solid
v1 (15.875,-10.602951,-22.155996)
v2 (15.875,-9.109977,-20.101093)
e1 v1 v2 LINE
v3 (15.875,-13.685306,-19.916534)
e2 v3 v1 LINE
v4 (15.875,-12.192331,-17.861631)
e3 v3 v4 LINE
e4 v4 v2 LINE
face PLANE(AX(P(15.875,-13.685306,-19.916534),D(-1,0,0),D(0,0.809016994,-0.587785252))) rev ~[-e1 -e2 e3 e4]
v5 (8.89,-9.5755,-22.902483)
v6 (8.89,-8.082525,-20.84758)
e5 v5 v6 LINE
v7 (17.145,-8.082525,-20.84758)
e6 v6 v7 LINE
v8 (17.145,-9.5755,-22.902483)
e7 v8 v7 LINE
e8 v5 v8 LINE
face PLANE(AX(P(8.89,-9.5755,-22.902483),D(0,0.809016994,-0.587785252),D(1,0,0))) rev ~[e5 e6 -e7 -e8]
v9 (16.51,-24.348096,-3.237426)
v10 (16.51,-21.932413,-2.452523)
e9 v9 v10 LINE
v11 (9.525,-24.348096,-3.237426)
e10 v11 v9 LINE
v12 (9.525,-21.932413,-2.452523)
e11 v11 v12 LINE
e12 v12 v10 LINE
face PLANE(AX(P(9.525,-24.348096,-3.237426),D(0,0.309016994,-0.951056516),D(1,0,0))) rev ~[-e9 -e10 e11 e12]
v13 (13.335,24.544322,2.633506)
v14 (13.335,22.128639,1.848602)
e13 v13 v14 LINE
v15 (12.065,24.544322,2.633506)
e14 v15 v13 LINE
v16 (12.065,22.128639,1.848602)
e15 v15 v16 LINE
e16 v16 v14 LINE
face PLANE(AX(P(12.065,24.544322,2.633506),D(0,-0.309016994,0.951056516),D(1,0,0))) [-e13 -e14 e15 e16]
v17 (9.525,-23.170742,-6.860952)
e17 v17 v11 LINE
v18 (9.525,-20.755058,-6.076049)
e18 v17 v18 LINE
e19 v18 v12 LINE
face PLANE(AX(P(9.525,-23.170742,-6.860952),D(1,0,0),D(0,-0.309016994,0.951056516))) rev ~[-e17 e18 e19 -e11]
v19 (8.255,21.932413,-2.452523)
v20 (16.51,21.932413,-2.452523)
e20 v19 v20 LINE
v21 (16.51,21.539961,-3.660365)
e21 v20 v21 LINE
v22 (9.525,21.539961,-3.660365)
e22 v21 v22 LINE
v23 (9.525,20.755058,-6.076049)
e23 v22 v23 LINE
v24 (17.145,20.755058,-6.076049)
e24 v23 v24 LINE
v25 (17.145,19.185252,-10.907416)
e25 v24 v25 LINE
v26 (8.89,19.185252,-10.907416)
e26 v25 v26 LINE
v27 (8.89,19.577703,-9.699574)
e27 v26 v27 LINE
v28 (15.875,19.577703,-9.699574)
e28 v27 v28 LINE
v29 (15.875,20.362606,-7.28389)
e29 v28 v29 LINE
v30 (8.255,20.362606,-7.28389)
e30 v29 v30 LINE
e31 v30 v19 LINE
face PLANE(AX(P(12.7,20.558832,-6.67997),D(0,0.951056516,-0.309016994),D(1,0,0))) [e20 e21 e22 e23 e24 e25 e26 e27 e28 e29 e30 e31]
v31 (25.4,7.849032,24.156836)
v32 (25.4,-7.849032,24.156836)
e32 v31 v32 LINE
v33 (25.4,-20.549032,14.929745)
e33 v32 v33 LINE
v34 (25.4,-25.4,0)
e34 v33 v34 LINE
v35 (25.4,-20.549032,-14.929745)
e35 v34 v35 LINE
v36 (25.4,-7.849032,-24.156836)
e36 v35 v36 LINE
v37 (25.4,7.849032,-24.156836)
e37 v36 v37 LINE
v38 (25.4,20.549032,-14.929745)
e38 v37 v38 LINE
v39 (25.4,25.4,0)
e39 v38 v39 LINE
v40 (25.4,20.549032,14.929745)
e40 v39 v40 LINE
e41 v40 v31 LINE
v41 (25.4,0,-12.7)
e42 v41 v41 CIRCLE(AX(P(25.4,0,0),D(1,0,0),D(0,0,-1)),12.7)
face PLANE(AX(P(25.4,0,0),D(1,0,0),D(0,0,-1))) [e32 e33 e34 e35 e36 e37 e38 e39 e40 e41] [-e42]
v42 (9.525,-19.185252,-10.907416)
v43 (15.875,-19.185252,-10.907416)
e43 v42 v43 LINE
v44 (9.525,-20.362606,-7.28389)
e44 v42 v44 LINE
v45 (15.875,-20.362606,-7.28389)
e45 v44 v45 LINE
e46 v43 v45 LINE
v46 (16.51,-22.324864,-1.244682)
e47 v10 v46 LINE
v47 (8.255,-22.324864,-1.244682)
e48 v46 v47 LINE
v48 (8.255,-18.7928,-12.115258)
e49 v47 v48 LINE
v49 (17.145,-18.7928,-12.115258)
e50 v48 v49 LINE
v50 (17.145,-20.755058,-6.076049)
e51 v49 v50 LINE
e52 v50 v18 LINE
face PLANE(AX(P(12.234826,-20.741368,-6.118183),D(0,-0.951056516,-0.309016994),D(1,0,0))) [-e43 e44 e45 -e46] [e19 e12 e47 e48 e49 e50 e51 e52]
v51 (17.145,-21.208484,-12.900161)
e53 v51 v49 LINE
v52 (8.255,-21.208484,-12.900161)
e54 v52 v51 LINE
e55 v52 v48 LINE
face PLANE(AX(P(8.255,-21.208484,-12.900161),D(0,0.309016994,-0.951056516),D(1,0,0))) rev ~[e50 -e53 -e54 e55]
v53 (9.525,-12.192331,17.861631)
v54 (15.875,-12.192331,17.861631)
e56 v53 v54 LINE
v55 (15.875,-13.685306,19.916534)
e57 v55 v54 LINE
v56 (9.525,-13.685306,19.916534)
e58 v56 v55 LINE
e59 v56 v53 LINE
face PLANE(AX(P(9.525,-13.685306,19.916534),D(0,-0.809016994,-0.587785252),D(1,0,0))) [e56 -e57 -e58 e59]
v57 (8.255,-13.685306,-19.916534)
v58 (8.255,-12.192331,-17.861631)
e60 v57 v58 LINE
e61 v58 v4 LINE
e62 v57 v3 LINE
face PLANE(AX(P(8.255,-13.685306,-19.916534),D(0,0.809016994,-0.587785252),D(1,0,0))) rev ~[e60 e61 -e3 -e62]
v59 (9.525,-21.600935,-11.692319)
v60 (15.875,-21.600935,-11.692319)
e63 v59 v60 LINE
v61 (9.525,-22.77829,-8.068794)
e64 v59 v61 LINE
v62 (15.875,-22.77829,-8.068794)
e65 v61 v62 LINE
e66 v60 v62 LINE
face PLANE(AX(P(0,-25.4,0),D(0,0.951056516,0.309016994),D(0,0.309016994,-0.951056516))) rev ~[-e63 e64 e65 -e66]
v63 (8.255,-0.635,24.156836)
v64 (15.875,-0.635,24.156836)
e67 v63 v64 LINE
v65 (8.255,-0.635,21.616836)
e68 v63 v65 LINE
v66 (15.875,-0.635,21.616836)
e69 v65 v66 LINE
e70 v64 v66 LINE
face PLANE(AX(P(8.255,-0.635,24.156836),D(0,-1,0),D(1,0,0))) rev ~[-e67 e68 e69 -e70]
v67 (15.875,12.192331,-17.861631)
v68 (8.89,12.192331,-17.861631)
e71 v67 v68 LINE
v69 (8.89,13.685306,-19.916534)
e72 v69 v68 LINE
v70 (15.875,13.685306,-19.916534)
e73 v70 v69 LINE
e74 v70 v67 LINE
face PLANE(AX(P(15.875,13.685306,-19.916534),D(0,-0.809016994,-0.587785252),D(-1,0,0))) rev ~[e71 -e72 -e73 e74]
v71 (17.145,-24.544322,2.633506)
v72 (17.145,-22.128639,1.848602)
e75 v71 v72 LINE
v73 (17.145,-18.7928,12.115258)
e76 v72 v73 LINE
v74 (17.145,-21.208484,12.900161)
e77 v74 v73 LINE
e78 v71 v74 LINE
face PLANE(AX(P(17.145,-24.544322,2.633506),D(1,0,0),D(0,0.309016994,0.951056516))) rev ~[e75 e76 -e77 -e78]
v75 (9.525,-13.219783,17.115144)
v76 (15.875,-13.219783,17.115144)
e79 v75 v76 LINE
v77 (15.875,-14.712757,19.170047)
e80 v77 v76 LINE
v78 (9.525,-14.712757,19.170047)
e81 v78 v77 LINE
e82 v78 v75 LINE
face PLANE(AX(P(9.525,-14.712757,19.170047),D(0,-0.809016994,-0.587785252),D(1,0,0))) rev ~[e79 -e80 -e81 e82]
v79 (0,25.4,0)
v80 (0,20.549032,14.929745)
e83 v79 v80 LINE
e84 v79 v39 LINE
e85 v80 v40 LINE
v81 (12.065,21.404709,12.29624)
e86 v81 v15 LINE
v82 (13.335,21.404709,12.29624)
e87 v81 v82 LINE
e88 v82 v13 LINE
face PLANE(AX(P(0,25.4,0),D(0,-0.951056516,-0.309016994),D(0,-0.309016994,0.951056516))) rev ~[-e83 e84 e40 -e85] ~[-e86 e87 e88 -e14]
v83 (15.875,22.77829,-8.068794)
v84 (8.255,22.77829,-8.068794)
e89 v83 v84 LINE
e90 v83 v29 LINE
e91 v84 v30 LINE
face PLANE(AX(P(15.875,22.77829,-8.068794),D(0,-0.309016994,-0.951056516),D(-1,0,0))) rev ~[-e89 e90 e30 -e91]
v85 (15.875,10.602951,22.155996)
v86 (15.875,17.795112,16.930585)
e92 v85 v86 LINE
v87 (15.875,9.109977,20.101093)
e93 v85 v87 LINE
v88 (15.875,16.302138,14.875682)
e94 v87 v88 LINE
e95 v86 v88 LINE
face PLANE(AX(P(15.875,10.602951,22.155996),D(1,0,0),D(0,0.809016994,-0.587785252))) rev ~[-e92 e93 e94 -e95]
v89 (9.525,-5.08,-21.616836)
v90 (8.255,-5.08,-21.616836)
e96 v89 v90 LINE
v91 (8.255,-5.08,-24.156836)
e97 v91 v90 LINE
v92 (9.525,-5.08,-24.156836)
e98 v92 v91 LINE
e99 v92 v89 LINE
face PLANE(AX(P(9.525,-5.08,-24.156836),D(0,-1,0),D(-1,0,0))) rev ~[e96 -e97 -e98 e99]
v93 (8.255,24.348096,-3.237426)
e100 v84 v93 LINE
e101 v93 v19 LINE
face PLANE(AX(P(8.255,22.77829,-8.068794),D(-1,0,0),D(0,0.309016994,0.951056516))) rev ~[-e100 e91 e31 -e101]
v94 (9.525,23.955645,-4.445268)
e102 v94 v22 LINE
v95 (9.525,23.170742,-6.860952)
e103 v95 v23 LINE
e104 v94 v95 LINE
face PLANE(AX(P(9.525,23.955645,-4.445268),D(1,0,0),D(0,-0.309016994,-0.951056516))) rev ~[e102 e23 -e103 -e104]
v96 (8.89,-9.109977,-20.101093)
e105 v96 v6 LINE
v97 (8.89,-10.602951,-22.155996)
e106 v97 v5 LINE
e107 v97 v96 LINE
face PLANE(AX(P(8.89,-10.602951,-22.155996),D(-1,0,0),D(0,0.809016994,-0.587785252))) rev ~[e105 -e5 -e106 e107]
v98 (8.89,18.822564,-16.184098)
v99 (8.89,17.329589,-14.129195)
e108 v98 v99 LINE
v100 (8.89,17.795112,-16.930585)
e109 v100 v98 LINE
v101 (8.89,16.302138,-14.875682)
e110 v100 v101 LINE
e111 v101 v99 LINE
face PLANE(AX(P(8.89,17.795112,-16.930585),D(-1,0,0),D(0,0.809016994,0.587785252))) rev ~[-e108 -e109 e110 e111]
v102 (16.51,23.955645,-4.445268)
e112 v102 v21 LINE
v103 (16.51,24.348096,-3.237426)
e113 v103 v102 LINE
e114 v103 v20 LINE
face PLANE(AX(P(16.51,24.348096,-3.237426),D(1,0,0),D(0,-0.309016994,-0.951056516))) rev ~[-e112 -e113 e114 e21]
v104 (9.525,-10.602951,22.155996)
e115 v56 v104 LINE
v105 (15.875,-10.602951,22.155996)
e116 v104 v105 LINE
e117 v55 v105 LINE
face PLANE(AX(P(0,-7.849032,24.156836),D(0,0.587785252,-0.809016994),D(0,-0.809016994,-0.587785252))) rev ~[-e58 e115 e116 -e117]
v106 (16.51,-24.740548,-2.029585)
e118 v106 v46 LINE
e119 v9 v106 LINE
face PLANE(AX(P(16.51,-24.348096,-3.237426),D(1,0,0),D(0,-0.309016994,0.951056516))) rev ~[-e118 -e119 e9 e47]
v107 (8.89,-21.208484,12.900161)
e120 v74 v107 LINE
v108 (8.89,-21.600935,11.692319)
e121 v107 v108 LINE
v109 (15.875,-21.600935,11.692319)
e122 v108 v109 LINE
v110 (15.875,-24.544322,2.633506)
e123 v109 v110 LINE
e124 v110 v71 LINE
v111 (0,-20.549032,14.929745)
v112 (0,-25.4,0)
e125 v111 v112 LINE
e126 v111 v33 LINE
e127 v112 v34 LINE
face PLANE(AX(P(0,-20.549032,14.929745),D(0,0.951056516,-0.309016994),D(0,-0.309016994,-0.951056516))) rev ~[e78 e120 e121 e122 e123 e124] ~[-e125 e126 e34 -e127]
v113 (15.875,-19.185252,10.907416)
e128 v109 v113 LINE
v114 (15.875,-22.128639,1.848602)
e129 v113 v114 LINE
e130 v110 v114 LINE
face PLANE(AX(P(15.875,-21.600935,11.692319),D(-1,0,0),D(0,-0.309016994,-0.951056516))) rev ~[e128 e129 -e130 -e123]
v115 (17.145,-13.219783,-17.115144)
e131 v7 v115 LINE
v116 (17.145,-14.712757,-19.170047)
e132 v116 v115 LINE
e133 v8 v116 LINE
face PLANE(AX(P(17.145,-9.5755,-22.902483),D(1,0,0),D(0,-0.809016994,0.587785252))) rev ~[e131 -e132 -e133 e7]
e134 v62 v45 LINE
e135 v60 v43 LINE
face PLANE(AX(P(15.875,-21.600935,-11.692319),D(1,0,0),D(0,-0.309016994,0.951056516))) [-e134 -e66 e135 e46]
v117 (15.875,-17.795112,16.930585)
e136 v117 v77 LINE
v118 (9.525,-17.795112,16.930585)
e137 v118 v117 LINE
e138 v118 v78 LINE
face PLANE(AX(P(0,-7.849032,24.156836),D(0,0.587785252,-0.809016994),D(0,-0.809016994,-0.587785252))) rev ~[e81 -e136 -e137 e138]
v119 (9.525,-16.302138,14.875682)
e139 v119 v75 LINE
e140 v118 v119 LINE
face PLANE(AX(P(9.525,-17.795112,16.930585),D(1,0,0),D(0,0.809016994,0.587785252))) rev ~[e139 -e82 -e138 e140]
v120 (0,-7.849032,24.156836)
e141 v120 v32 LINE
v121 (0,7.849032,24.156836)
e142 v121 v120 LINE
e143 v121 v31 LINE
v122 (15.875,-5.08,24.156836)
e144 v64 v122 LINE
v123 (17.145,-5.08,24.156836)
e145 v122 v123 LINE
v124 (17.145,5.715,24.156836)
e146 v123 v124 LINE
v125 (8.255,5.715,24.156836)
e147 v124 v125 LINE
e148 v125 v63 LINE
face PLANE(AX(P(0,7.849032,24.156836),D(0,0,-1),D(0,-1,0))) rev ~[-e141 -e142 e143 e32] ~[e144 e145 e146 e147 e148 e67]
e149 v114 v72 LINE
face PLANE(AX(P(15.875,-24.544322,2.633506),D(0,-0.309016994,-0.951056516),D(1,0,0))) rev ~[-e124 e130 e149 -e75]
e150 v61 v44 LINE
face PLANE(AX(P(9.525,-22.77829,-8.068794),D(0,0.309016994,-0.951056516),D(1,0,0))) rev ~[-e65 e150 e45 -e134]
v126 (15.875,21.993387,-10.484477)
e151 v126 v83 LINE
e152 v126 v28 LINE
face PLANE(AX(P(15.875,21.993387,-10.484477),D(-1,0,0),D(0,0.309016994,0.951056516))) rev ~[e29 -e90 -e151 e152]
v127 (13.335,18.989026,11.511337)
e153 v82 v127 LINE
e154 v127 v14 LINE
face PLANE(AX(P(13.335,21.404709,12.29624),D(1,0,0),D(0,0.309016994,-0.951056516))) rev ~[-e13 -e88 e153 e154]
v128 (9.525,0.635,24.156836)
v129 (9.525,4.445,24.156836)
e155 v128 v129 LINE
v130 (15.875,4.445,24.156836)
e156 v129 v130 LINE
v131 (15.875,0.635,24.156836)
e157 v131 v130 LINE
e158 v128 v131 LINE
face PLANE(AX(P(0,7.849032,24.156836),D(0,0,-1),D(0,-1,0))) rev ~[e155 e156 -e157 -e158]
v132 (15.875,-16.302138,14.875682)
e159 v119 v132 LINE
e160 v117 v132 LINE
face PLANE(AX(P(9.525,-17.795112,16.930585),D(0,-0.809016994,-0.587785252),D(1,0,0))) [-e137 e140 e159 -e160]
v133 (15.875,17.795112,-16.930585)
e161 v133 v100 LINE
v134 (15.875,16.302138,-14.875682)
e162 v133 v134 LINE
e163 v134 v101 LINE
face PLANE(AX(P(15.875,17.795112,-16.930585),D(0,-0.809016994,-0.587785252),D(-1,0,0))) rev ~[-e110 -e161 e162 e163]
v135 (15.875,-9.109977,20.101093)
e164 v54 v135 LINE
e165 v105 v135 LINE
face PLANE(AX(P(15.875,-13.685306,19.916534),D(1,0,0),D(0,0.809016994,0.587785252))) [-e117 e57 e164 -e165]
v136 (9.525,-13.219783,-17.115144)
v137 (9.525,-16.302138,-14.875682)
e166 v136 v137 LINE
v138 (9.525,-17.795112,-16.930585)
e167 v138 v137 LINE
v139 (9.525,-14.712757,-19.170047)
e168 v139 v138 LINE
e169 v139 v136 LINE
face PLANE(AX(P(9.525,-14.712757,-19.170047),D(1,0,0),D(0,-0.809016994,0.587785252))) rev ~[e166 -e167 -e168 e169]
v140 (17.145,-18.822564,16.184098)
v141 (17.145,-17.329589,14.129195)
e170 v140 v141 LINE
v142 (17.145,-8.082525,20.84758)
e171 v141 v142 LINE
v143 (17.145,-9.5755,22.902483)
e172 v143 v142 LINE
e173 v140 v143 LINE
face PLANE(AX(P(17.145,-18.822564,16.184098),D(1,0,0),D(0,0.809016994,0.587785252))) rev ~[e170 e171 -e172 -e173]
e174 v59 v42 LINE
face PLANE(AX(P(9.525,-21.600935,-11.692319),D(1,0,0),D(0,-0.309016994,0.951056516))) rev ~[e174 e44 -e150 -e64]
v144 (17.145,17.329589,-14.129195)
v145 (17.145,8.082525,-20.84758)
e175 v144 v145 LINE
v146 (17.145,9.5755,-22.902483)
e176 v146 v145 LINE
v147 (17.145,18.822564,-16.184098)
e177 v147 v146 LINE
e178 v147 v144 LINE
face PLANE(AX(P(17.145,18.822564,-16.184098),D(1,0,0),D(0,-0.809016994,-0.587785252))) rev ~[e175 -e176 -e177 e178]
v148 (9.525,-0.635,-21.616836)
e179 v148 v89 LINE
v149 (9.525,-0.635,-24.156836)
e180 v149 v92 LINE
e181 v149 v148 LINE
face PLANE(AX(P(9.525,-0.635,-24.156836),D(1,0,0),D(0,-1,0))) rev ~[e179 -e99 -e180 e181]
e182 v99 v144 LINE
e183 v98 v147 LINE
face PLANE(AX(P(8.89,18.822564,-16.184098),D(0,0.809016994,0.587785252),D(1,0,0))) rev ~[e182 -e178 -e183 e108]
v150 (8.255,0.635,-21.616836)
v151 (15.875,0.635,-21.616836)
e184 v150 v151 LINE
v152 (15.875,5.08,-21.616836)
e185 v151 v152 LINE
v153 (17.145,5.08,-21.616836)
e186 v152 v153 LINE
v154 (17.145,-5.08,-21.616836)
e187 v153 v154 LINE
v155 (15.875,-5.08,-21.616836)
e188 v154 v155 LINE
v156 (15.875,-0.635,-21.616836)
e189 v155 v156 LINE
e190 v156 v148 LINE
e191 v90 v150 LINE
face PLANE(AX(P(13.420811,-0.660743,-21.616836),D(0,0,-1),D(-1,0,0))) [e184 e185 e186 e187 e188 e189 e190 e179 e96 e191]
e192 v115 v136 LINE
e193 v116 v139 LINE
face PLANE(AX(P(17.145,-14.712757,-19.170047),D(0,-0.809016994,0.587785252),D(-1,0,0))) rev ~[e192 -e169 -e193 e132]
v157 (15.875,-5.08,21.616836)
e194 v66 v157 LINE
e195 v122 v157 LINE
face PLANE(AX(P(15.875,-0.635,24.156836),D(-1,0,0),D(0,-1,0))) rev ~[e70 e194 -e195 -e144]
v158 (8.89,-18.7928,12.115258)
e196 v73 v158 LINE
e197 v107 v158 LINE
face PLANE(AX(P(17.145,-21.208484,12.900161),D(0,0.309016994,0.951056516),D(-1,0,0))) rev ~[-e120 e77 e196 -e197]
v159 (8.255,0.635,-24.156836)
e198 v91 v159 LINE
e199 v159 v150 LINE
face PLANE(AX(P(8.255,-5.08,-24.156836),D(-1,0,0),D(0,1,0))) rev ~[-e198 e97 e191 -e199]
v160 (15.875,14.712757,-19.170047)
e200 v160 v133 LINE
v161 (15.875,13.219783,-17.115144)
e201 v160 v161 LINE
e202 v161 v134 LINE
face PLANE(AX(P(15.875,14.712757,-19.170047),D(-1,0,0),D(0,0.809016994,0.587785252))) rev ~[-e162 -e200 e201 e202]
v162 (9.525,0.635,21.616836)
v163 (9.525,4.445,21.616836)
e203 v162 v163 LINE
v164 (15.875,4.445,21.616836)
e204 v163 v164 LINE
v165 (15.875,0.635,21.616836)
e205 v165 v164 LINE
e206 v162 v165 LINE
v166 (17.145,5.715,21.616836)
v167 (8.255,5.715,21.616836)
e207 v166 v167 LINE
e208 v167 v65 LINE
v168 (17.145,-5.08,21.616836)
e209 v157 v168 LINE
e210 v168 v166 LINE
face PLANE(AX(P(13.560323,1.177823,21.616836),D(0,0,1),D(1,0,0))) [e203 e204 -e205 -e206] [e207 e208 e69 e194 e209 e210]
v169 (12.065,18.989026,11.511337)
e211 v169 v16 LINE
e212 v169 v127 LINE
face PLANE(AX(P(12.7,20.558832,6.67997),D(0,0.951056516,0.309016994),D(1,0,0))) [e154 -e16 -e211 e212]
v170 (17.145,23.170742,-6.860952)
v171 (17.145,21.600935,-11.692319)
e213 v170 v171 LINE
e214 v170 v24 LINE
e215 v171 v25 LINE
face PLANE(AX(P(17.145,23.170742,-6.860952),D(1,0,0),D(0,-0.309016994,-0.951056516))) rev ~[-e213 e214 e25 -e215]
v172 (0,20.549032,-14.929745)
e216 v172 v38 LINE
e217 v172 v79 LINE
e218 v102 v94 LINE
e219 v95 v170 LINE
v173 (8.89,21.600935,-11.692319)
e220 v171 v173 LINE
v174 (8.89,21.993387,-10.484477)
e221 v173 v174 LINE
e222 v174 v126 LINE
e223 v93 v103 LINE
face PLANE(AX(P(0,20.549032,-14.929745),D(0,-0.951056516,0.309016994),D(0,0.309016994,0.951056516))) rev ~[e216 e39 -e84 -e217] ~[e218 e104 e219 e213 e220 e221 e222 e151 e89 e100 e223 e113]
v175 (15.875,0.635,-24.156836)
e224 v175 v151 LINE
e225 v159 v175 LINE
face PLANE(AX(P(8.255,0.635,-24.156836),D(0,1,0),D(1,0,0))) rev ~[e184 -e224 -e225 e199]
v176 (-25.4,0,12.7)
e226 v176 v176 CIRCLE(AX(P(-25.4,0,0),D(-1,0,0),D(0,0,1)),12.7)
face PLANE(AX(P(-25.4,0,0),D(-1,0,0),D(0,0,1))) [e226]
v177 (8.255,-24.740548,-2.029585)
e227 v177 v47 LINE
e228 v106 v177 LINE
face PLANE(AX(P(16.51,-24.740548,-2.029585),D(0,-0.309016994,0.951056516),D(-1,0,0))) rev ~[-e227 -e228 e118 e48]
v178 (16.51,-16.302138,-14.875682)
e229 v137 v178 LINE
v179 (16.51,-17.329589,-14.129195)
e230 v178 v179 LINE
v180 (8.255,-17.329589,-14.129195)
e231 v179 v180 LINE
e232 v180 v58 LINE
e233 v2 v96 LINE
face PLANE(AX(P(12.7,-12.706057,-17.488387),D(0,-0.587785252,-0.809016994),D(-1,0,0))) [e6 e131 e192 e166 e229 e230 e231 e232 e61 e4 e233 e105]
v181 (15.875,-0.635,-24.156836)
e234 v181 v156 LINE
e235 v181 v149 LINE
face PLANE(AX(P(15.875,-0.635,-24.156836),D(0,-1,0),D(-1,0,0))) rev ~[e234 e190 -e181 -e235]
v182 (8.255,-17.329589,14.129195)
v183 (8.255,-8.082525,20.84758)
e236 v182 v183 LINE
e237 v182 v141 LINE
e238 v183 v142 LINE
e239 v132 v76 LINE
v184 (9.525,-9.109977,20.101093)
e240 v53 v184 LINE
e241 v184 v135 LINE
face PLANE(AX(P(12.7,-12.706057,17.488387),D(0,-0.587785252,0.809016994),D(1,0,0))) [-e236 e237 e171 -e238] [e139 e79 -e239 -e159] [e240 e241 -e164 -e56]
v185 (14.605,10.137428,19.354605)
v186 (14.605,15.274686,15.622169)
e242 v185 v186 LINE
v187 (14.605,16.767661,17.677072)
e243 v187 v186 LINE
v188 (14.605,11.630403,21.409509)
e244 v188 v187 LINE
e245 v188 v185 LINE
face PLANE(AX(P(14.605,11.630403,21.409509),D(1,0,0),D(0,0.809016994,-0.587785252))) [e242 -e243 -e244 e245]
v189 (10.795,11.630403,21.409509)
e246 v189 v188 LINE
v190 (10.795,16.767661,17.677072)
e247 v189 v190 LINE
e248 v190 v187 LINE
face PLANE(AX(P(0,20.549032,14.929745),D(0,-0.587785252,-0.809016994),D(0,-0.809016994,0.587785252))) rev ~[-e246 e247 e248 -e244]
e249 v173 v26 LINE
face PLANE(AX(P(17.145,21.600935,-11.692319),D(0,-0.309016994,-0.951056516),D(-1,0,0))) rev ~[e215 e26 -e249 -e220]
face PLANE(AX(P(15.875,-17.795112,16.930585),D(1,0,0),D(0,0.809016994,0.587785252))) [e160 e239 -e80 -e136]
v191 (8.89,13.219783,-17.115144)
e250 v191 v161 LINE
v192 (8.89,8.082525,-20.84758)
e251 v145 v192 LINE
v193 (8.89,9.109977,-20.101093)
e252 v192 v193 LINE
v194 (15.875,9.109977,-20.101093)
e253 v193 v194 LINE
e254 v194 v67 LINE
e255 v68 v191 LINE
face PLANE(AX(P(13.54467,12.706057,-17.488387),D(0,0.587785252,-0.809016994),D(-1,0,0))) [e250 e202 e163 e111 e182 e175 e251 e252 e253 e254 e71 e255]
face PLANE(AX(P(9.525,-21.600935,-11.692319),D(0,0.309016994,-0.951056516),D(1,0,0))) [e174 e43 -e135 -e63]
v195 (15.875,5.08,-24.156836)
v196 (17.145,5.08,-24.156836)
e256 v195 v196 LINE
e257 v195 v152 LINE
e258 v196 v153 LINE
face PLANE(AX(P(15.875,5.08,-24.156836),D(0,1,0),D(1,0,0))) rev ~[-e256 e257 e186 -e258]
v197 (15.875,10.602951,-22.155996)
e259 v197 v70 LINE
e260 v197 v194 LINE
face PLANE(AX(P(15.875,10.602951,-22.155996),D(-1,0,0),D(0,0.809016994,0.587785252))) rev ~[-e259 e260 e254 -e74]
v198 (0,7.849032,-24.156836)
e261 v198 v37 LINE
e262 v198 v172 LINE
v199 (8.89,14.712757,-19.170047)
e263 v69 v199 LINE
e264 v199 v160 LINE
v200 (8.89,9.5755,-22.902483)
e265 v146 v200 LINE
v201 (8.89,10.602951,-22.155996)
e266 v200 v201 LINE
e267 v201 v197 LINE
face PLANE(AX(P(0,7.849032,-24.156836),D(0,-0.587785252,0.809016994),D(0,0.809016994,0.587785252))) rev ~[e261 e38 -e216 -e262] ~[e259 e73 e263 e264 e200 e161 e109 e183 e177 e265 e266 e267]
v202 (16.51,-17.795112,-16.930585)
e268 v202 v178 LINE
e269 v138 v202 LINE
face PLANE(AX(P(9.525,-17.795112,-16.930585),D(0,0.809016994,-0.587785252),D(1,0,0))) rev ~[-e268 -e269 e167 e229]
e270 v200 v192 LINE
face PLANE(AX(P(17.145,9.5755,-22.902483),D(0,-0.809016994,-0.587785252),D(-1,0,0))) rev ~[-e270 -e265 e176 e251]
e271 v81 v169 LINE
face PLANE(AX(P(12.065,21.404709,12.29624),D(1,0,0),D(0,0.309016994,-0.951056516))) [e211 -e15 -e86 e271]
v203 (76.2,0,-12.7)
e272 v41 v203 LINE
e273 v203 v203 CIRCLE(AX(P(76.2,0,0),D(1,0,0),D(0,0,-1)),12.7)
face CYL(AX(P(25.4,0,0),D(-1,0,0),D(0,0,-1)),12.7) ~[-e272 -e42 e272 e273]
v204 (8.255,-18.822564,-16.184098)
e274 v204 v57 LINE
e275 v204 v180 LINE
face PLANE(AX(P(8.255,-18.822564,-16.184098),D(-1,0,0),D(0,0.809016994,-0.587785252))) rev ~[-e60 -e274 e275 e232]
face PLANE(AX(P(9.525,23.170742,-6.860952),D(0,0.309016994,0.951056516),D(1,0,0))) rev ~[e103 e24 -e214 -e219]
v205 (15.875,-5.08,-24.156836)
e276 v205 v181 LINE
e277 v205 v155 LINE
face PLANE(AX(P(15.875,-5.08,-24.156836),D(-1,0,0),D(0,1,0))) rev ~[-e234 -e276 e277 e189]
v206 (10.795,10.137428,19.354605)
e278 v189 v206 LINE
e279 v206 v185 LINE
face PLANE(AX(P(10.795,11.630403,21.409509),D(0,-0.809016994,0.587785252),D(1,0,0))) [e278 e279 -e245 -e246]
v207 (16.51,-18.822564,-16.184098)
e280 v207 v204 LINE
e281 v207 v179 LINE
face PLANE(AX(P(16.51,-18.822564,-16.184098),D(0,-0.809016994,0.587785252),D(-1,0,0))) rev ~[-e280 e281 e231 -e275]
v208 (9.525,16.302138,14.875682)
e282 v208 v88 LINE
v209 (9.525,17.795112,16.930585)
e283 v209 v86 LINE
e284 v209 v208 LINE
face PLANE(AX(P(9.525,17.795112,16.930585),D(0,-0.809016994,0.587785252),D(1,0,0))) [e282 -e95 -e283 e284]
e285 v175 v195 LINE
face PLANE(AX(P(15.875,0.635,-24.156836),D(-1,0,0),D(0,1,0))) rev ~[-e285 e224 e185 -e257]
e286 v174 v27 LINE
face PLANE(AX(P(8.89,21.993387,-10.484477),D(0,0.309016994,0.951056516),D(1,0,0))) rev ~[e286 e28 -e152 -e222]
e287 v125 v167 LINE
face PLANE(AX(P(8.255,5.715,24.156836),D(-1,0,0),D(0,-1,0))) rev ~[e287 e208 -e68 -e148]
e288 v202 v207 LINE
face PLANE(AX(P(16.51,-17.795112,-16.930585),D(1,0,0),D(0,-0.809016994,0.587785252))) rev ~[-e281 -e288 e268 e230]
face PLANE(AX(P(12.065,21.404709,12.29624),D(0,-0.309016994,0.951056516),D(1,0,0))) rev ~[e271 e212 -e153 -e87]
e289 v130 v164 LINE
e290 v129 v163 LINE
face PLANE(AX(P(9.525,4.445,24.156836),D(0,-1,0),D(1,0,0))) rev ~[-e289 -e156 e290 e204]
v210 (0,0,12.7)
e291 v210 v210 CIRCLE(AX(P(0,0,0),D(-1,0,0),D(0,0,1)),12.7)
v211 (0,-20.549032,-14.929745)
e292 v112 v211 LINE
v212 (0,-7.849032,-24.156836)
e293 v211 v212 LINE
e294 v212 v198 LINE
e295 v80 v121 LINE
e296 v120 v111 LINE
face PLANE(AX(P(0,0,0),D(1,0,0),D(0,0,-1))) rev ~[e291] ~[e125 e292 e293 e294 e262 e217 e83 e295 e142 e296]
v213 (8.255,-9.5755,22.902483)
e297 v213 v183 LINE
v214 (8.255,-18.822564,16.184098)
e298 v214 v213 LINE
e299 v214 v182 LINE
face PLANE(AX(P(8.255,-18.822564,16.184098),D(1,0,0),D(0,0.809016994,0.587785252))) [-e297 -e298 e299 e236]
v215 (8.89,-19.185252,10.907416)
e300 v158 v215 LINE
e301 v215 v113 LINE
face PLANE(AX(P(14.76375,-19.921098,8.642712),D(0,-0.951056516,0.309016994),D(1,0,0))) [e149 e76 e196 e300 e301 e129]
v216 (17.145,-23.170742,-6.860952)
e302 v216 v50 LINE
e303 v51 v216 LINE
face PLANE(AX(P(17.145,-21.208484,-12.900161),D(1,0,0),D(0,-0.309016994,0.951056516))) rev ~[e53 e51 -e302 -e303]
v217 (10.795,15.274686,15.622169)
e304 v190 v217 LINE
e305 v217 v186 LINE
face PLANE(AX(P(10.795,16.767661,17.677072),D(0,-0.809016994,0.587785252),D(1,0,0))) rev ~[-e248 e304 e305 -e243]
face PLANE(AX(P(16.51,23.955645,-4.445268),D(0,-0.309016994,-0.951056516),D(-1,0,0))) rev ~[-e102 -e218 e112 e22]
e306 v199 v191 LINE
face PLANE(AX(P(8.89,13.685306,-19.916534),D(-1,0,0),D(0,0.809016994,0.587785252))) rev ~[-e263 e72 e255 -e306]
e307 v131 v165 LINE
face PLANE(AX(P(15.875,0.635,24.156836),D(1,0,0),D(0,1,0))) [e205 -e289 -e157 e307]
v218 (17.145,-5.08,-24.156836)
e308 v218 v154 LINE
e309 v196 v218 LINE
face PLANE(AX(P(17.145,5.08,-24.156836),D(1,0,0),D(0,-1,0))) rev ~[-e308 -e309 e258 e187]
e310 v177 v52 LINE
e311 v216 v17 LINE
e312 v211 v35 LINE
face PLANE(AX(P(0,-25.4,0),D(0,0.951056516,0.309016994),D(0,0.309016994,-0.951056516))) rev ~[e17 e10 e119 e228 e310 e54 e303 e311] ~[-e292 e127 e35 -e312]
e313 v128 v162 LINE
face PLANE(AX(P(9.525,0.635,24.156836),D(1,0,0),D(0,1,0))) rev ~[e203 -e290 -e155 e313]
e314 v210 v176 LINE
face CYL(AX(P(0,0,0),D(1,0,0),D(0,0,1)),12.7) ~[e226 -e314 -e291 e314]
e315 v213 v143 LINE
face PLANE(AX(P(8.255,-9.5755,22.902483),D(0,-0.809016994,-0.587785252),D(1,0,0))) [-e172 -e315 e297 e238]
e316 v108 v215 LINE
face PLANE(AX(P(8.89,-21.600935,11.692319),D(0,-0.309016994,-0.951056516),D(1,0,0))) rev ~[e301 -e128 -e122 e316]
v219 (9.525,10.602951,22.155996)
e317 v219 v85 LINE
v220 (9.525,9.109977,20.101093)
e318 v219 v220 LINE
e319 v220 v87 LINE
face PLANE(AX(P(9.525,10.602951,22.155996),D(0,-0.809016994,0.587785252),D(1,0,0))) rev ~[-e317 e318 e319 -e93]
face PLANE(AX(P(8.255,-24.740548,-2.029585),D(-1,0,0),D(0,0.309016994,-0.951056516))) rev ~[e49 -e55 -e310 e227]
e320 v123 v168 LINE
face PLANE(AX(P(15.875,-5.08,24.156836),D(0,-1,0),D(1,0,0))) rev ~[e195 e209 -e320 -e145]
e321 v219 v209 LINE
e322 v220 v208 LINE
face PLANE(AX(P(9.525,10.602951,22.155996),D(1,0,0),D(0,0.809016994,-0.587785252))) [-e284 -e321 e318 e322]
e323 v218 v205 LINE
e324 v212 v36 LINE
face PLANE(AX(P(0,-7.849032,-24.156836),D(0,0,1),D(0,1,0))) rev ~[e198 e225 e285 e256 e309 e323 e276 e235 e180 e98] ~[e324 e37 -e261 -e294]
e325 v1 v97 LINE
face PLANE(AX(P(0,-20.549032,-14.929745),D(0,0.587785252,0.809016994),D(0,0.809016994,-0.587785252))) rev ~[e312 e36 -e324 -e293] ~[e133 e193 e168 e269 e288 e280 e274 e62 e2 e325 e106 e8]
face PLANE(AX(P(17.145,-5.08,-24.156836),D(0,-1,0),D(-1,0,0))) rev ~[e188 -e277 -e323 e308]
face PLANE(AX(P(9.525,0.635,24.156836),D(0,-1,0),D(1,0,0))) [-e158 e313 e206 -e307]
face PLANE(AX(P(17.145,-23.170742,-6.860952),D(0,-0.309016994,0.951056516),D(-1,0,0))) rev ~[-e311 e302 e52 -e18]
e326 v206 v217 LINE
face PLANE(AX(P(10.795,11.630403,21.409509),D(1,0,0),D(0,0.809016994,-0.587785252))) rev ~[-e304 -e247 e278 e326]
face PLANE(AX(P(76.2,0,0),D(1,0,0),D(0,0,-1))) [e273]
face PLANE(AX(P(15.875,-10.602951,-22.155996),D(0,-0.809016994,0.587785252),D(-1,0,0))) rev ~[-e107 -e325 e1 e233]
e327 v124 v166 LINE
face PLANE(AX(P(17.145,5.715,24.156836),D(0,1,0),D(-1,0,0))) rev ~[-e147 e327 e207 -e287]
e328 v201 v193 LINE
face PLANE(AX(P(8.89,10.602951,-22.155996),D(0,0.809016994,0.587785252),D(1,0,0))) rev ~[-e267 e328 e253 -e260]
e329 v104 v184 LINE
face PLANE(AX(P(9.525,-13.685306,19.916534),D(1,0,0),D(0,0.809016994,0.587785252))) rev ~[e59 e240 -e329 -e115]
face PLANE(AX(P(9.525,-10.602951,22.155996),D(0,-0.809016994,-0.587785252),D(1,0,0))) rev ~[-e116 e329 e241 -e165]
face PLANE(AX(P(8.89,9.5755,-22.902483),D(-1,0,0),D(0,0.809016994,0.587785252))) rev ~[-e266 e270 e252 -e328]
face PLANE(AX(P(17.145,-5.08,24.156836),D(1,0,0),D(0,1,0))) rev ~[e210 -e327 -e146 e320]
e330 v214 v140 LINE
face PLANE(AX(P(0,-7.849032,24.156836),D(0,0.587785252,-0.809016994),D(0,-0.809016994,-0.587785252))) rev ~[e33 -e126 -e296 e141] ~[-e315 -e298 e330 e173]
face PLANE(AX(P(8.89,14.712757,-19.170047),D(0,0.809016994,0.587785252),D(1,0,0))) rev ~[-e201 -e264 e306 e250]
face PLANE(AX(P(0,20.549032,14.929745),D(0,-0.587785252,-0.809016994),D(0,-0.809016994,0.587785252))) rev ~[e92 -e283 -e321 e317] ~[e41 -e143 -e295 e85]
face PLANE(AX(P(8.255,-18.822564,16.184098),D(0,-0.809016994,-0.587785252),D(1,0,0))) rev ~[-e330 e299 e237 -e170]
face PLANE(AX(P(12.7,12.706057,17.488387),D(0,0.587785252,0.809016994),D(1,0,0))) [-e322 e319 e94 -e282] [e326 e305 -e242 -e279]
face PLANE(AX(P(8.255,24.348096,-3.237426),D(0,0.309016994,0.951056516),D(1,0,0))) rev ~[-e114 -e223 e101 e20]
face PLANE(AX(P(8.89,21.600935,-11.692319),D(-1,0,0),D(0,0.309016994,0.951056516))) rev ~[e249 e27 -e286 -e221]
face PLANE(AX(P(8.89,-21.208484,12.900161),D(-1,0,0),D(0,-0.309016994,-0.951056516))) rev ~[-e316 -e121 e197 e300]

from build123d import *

# Parameters (mm, degrees)
BOSS_EXTRUDE1_DEPTH      = 25.4
SKETCH2_R                = 12.7
BOSS_EXTRUDE2_DEPTH      = 50.8
SKETCH3_R                = 12.7
BOSS_EXTRUDE3_DEPTH      = 25.4
SKETCH4_W                = 6.35
SKETCH4_H                = 8.89
SKETCH4_W_2              = 3.81
SKETCH4_H_2              = 6.35
CUT_EXTRUDE1_DEPTH       = 2.54
SKETCH5_W                = 1.27
SKETCH5_H                = 10.16
CUT_EXTRUDE2_DEPTH       = 2.54
CUT_EXTRUDE3_DEPTH       = 2.54
CUT_EXTRUDE4_DEPTH       = 2.54
CUT_EXTRUDE5_DEPTH       = 2.54
CUT_EXTRUDE6_DEPTH       = 2.54
SKETCH11_W               = 6.35
SKETCH11_H               = 3.81
CUT_EXTRUDE7_DEPTH       = 8.464872704
CUT_EXTRUDE7_DEPTH_BACK  = 2.54
CUT_EXTRUDE8_DEPTH       = 2.54
SKETCH13_W               = 8.89
SKETCH13_H               = 11.43
SKETCH13_W_2             = 6.35
SKETCH13_H_2             = 3.81
CUT_EXTRUDE9_DEPTH       = 2.54
SKETCH14_W               = 6.35
SKETCH14_H               = 3.81
CUT_EXTRUDE10_DEPTH      = 1
CUT_EXTRUDE10_DEPTH_BACK = 2.54


with BuildPart() as part:
    # Sketch1 → Boss-Extrude1 (new body)
    with BuildSketch(Plane(origin=(0, 0, 0), x_dir=(0, 0, -1), z_dir=(1, 0, 0))):
        Polygon((0, 25.4), (-14.929745408, 20.549031657), (-24.156835514, 7.849031657), (-24.156835514, -7.849031657), (-14.929745408, -20.549031657), (0, -25.4), (14.929745408, -20.549031657), (24.156835514, -7.849031657), (24.156835514, 7.849031657), (14.929745408, 20.549031657), align=None)
    extrude(amount=BOSS_EXTRUDE1_DEPTH)

    # Sketch2 → Boss-Extrude2 (add)
    with BuildSketch(Plane(origin=(25.4, 0, 0), x_dir=(0, 0, -1), z_dir=(1, 0, 0))):
        Circle(SKETCH2_R)
    extrude(amount=BOSS_EXTRUDE2_DEPTH)

    # Sketch3 → Boss-Extrude3 (add)
    with BuildSketch(Plane.ZY):
        Circle(SKETCH3_R)
    extrude(amount=BOSS_EXTRUDE3_DEPTH)

    # Sketch4 → Cut-Extrude1 (cut)
    with BuildSketch(Plane(origin=(0, 14.199031657, 19.543290461), x_dir=(1, 0, 0), z_dir=(0, 0.587785252, 0.809016994))):
        with Locations((12.7, 0)):
            Rectangle(SKETCH4_W, SKETCH4_H)
        with Locations((12.7, 0)):
            Rectangle(SKETCH4_W_2, SKETCH4_H_2, mode=Mode.SUBTRACT)
    extrude(amount=-CUT_EXTRUDE1_DEPTH, mode=Mode.SUBTRACT)

    # Sketch5 → Cut-Extrude2 (cut)
    with BuildSketch(Plane(origin=(0, 22.974515829, 7.464872704), x_dir=(1, 0, 0), z_dir=(0, 0.951056516, 0.309016994))):
        with Locations((12.7, 0)):
            Rectangle(SKETCH5_W, SKETCH5_H)
    extrude(amount=-CUT_EXTRUDE2_DEPTH, mode=Mode.SUBTRACT)

    # Sketch6 → Cut-Extrude3 (cut)
    with BuildSketch(Plane(origin=(0, 22.974515829, -7.464872704), x_dir=(1, 0, 0), z_dir=(0, 0.951056516, -0.309016994))):
        Polygon((8.89, 3.175), (15.875, 3.175), (15.875, 0.635), (8.255, 0.635), (8.255, -4.445), (16.51, -4.445), (16.51, -3.175), (9.525, -3.175), (9.525, -0.635), (17.145, -0.635), (17.145, 4.445), (8.89, 4.445), align=None)
    extrude(amount=-CUT_EXTRUDE3_DEPTH, mode=Mode.SUBTRACT)

    # Sketch8 → Cut-Extrude4 (cut)
    with BuildSketch(Plane(origin=(0, 14.199031657, -19.543290461), x_dir=(-1, 0, 0), z_dir=(0, 0.587785252, -0.809016994))):
        Polygon((-8.89, -5.715), (-8.89, -4.445), (-15.875, -4.445), (-15.875, -0.635), (-8.89, -0.635), (-8.89, 0.635), (-15.875, 0.635), (-15.875, 4.445), (-8.89, 4.445), (-8.89, 5.715), (-17.145, 5.715), (-17.145, -5.715), align=None)
    extrude(amount=-CUT_EXTRUDE4_DEPTH, mode=Mode.SUBTRACT)

    # Sketch9 → Cut-Extrude5 (cut)
    with BuildSketch(Plane(origin=(0, 0, -24.156835514), x_dir=(-1, 0, 0), z_dir=(0, 0, -1))):
        Polygon((-9.525, -5.08), (-8.255, -5.08), (-8.255, 0.635), (-15.875, 0.635), (-15.875, 5.08), (-17.145, 5.08), (-17.145, -5.08), (-15.875, -5.08), (-15.875, -0.635), (-9.525, -0.635), align=None)
    extrude(amount=-CUT_EXTRUDE5_DEPTH, mode=Mode.SUBTRACT)

    # Sketch10 → Cut-Extrude6 (cut)
    with BuildSketch(Plane(origin=(0, -14.199031657, -19.543290461), x_dir=(-1, 0, 0), z_dir=(0, -0.587785252, -0.809016994))):
        Polygon((-8.89, 5.715), (-17.145, 5.715), (-17.145, -0.635), (-9.525, -0.635), (-9.525, -4.445), (-16.51, -4.445), (-16.51, -5.715), (-8.255, -5.715), (-8.255, 0.635), (-15.875, 0.635), (-15.875, 4.445), (-8.89, 4.445), align=None)
    extrude(amount=-CUT_EXTRUDE6_DEPTH, mode=Mode.SUBTRACT)

    # Sketch11 → Cut-Extrude7 (cut, two sides)
    with BuildSketch(Plane(origin=(0, -22.974515829, -7.464872704), x_dir=(1, 0, 0), z_dir=(0, -0.951056516, -0.309016994))) as cut_extrude7_sk:
        Polygon((17.145, 0.635), (9.525, 0.635), (9.525, 4.445), (16.51, 4.445), (16.51, 5.715), (8.255, 5.715), (8.255, -5.715), (17.145, -5.715), align=None)
        with Locations((12.7, -2.54)):
            Rectangle(SKETCH11_W, SKETCH11_H, mode=Mode.SUBTRACT)
    extrude(amount=CUT_EXTRUDE7_DEPTH, mode=Mode.SUBTRACT)
    extrude(cut_extrude7_sk.sketch, amount=-CUT_EXTRUDE7_DEPTH_BACK, mode=Mode.SUBTRACT)

    # Sketch12 → Cut-Extrude8 (cut)
    with BuildSketch(Plane(origin=(0, -22.974515829, 7.464872704), x_dir=(1, 0, 0), z_dir=(0, -0.951056516, 0.309016994))):
        Polygon((8.89, 4.445), (15.875, 4.445), (15.875, -5.08), (17.145, -5.08), (17.145, 5.715), (8.89, 5.715), align=None)
    extrude(amount=-CUT_EXTRUDE8_DEPTH, mode=Mode.SUBTRACT)

    # Sketch13 → Cut-Extrude9 (cut)
    with BuildSketch(Plane(origin=(0, -14.199031657, 19.543290461), x_dir=(1, 0, 0), z_dir=(0, -0.587785252, 0.809016994))):
        with Locations((12.7, 0)):
            Rectangle(SKETCH13_W, SKETCH13_H)
        with Locations((12.7, -2.54)):
            Rectangle(SKETCH13_W_2, SKETCH13_H_2, mode=Mode.SUBTRACT)
        with Locations((12.7, 2.54)):
            Rectangle(SKETCH13_W_2, SKETCH13_H_2, mode=Mode.SUBTRACT)
    extrude(amount=-CUT_EXTRUDE9_DEPTH, mode=Mode.SUBTRACT)

    # Sketch14 → Cut-Extrude10 (cut, two sides)
    with BuildSketch(Plane.XY.offset(24.156835514)) as cut_extrude10_sk:
        Polygon((15.875, -0.635), (15.875, -5.08), (17.145, -5.08), (17.145, 5.715), (8.255, 5.715), (8.255, -0.635), align=None)
        with Locations((12.7, 2.54)):
            Rectangle(SKETCH14_W, SKETCH14_H, mode=Mode.SUBTRACT)
    extrude(amount=CUT_EXTRUDE10_DEPTH, mode=Mode.SUBTRACT)
    extrude(cut_extrude10_sk.sketch, amount=-CUT_EXTRUDE10_DEPTH_BACK, mode=Mode.SUBTRACT)


solid = part.part
